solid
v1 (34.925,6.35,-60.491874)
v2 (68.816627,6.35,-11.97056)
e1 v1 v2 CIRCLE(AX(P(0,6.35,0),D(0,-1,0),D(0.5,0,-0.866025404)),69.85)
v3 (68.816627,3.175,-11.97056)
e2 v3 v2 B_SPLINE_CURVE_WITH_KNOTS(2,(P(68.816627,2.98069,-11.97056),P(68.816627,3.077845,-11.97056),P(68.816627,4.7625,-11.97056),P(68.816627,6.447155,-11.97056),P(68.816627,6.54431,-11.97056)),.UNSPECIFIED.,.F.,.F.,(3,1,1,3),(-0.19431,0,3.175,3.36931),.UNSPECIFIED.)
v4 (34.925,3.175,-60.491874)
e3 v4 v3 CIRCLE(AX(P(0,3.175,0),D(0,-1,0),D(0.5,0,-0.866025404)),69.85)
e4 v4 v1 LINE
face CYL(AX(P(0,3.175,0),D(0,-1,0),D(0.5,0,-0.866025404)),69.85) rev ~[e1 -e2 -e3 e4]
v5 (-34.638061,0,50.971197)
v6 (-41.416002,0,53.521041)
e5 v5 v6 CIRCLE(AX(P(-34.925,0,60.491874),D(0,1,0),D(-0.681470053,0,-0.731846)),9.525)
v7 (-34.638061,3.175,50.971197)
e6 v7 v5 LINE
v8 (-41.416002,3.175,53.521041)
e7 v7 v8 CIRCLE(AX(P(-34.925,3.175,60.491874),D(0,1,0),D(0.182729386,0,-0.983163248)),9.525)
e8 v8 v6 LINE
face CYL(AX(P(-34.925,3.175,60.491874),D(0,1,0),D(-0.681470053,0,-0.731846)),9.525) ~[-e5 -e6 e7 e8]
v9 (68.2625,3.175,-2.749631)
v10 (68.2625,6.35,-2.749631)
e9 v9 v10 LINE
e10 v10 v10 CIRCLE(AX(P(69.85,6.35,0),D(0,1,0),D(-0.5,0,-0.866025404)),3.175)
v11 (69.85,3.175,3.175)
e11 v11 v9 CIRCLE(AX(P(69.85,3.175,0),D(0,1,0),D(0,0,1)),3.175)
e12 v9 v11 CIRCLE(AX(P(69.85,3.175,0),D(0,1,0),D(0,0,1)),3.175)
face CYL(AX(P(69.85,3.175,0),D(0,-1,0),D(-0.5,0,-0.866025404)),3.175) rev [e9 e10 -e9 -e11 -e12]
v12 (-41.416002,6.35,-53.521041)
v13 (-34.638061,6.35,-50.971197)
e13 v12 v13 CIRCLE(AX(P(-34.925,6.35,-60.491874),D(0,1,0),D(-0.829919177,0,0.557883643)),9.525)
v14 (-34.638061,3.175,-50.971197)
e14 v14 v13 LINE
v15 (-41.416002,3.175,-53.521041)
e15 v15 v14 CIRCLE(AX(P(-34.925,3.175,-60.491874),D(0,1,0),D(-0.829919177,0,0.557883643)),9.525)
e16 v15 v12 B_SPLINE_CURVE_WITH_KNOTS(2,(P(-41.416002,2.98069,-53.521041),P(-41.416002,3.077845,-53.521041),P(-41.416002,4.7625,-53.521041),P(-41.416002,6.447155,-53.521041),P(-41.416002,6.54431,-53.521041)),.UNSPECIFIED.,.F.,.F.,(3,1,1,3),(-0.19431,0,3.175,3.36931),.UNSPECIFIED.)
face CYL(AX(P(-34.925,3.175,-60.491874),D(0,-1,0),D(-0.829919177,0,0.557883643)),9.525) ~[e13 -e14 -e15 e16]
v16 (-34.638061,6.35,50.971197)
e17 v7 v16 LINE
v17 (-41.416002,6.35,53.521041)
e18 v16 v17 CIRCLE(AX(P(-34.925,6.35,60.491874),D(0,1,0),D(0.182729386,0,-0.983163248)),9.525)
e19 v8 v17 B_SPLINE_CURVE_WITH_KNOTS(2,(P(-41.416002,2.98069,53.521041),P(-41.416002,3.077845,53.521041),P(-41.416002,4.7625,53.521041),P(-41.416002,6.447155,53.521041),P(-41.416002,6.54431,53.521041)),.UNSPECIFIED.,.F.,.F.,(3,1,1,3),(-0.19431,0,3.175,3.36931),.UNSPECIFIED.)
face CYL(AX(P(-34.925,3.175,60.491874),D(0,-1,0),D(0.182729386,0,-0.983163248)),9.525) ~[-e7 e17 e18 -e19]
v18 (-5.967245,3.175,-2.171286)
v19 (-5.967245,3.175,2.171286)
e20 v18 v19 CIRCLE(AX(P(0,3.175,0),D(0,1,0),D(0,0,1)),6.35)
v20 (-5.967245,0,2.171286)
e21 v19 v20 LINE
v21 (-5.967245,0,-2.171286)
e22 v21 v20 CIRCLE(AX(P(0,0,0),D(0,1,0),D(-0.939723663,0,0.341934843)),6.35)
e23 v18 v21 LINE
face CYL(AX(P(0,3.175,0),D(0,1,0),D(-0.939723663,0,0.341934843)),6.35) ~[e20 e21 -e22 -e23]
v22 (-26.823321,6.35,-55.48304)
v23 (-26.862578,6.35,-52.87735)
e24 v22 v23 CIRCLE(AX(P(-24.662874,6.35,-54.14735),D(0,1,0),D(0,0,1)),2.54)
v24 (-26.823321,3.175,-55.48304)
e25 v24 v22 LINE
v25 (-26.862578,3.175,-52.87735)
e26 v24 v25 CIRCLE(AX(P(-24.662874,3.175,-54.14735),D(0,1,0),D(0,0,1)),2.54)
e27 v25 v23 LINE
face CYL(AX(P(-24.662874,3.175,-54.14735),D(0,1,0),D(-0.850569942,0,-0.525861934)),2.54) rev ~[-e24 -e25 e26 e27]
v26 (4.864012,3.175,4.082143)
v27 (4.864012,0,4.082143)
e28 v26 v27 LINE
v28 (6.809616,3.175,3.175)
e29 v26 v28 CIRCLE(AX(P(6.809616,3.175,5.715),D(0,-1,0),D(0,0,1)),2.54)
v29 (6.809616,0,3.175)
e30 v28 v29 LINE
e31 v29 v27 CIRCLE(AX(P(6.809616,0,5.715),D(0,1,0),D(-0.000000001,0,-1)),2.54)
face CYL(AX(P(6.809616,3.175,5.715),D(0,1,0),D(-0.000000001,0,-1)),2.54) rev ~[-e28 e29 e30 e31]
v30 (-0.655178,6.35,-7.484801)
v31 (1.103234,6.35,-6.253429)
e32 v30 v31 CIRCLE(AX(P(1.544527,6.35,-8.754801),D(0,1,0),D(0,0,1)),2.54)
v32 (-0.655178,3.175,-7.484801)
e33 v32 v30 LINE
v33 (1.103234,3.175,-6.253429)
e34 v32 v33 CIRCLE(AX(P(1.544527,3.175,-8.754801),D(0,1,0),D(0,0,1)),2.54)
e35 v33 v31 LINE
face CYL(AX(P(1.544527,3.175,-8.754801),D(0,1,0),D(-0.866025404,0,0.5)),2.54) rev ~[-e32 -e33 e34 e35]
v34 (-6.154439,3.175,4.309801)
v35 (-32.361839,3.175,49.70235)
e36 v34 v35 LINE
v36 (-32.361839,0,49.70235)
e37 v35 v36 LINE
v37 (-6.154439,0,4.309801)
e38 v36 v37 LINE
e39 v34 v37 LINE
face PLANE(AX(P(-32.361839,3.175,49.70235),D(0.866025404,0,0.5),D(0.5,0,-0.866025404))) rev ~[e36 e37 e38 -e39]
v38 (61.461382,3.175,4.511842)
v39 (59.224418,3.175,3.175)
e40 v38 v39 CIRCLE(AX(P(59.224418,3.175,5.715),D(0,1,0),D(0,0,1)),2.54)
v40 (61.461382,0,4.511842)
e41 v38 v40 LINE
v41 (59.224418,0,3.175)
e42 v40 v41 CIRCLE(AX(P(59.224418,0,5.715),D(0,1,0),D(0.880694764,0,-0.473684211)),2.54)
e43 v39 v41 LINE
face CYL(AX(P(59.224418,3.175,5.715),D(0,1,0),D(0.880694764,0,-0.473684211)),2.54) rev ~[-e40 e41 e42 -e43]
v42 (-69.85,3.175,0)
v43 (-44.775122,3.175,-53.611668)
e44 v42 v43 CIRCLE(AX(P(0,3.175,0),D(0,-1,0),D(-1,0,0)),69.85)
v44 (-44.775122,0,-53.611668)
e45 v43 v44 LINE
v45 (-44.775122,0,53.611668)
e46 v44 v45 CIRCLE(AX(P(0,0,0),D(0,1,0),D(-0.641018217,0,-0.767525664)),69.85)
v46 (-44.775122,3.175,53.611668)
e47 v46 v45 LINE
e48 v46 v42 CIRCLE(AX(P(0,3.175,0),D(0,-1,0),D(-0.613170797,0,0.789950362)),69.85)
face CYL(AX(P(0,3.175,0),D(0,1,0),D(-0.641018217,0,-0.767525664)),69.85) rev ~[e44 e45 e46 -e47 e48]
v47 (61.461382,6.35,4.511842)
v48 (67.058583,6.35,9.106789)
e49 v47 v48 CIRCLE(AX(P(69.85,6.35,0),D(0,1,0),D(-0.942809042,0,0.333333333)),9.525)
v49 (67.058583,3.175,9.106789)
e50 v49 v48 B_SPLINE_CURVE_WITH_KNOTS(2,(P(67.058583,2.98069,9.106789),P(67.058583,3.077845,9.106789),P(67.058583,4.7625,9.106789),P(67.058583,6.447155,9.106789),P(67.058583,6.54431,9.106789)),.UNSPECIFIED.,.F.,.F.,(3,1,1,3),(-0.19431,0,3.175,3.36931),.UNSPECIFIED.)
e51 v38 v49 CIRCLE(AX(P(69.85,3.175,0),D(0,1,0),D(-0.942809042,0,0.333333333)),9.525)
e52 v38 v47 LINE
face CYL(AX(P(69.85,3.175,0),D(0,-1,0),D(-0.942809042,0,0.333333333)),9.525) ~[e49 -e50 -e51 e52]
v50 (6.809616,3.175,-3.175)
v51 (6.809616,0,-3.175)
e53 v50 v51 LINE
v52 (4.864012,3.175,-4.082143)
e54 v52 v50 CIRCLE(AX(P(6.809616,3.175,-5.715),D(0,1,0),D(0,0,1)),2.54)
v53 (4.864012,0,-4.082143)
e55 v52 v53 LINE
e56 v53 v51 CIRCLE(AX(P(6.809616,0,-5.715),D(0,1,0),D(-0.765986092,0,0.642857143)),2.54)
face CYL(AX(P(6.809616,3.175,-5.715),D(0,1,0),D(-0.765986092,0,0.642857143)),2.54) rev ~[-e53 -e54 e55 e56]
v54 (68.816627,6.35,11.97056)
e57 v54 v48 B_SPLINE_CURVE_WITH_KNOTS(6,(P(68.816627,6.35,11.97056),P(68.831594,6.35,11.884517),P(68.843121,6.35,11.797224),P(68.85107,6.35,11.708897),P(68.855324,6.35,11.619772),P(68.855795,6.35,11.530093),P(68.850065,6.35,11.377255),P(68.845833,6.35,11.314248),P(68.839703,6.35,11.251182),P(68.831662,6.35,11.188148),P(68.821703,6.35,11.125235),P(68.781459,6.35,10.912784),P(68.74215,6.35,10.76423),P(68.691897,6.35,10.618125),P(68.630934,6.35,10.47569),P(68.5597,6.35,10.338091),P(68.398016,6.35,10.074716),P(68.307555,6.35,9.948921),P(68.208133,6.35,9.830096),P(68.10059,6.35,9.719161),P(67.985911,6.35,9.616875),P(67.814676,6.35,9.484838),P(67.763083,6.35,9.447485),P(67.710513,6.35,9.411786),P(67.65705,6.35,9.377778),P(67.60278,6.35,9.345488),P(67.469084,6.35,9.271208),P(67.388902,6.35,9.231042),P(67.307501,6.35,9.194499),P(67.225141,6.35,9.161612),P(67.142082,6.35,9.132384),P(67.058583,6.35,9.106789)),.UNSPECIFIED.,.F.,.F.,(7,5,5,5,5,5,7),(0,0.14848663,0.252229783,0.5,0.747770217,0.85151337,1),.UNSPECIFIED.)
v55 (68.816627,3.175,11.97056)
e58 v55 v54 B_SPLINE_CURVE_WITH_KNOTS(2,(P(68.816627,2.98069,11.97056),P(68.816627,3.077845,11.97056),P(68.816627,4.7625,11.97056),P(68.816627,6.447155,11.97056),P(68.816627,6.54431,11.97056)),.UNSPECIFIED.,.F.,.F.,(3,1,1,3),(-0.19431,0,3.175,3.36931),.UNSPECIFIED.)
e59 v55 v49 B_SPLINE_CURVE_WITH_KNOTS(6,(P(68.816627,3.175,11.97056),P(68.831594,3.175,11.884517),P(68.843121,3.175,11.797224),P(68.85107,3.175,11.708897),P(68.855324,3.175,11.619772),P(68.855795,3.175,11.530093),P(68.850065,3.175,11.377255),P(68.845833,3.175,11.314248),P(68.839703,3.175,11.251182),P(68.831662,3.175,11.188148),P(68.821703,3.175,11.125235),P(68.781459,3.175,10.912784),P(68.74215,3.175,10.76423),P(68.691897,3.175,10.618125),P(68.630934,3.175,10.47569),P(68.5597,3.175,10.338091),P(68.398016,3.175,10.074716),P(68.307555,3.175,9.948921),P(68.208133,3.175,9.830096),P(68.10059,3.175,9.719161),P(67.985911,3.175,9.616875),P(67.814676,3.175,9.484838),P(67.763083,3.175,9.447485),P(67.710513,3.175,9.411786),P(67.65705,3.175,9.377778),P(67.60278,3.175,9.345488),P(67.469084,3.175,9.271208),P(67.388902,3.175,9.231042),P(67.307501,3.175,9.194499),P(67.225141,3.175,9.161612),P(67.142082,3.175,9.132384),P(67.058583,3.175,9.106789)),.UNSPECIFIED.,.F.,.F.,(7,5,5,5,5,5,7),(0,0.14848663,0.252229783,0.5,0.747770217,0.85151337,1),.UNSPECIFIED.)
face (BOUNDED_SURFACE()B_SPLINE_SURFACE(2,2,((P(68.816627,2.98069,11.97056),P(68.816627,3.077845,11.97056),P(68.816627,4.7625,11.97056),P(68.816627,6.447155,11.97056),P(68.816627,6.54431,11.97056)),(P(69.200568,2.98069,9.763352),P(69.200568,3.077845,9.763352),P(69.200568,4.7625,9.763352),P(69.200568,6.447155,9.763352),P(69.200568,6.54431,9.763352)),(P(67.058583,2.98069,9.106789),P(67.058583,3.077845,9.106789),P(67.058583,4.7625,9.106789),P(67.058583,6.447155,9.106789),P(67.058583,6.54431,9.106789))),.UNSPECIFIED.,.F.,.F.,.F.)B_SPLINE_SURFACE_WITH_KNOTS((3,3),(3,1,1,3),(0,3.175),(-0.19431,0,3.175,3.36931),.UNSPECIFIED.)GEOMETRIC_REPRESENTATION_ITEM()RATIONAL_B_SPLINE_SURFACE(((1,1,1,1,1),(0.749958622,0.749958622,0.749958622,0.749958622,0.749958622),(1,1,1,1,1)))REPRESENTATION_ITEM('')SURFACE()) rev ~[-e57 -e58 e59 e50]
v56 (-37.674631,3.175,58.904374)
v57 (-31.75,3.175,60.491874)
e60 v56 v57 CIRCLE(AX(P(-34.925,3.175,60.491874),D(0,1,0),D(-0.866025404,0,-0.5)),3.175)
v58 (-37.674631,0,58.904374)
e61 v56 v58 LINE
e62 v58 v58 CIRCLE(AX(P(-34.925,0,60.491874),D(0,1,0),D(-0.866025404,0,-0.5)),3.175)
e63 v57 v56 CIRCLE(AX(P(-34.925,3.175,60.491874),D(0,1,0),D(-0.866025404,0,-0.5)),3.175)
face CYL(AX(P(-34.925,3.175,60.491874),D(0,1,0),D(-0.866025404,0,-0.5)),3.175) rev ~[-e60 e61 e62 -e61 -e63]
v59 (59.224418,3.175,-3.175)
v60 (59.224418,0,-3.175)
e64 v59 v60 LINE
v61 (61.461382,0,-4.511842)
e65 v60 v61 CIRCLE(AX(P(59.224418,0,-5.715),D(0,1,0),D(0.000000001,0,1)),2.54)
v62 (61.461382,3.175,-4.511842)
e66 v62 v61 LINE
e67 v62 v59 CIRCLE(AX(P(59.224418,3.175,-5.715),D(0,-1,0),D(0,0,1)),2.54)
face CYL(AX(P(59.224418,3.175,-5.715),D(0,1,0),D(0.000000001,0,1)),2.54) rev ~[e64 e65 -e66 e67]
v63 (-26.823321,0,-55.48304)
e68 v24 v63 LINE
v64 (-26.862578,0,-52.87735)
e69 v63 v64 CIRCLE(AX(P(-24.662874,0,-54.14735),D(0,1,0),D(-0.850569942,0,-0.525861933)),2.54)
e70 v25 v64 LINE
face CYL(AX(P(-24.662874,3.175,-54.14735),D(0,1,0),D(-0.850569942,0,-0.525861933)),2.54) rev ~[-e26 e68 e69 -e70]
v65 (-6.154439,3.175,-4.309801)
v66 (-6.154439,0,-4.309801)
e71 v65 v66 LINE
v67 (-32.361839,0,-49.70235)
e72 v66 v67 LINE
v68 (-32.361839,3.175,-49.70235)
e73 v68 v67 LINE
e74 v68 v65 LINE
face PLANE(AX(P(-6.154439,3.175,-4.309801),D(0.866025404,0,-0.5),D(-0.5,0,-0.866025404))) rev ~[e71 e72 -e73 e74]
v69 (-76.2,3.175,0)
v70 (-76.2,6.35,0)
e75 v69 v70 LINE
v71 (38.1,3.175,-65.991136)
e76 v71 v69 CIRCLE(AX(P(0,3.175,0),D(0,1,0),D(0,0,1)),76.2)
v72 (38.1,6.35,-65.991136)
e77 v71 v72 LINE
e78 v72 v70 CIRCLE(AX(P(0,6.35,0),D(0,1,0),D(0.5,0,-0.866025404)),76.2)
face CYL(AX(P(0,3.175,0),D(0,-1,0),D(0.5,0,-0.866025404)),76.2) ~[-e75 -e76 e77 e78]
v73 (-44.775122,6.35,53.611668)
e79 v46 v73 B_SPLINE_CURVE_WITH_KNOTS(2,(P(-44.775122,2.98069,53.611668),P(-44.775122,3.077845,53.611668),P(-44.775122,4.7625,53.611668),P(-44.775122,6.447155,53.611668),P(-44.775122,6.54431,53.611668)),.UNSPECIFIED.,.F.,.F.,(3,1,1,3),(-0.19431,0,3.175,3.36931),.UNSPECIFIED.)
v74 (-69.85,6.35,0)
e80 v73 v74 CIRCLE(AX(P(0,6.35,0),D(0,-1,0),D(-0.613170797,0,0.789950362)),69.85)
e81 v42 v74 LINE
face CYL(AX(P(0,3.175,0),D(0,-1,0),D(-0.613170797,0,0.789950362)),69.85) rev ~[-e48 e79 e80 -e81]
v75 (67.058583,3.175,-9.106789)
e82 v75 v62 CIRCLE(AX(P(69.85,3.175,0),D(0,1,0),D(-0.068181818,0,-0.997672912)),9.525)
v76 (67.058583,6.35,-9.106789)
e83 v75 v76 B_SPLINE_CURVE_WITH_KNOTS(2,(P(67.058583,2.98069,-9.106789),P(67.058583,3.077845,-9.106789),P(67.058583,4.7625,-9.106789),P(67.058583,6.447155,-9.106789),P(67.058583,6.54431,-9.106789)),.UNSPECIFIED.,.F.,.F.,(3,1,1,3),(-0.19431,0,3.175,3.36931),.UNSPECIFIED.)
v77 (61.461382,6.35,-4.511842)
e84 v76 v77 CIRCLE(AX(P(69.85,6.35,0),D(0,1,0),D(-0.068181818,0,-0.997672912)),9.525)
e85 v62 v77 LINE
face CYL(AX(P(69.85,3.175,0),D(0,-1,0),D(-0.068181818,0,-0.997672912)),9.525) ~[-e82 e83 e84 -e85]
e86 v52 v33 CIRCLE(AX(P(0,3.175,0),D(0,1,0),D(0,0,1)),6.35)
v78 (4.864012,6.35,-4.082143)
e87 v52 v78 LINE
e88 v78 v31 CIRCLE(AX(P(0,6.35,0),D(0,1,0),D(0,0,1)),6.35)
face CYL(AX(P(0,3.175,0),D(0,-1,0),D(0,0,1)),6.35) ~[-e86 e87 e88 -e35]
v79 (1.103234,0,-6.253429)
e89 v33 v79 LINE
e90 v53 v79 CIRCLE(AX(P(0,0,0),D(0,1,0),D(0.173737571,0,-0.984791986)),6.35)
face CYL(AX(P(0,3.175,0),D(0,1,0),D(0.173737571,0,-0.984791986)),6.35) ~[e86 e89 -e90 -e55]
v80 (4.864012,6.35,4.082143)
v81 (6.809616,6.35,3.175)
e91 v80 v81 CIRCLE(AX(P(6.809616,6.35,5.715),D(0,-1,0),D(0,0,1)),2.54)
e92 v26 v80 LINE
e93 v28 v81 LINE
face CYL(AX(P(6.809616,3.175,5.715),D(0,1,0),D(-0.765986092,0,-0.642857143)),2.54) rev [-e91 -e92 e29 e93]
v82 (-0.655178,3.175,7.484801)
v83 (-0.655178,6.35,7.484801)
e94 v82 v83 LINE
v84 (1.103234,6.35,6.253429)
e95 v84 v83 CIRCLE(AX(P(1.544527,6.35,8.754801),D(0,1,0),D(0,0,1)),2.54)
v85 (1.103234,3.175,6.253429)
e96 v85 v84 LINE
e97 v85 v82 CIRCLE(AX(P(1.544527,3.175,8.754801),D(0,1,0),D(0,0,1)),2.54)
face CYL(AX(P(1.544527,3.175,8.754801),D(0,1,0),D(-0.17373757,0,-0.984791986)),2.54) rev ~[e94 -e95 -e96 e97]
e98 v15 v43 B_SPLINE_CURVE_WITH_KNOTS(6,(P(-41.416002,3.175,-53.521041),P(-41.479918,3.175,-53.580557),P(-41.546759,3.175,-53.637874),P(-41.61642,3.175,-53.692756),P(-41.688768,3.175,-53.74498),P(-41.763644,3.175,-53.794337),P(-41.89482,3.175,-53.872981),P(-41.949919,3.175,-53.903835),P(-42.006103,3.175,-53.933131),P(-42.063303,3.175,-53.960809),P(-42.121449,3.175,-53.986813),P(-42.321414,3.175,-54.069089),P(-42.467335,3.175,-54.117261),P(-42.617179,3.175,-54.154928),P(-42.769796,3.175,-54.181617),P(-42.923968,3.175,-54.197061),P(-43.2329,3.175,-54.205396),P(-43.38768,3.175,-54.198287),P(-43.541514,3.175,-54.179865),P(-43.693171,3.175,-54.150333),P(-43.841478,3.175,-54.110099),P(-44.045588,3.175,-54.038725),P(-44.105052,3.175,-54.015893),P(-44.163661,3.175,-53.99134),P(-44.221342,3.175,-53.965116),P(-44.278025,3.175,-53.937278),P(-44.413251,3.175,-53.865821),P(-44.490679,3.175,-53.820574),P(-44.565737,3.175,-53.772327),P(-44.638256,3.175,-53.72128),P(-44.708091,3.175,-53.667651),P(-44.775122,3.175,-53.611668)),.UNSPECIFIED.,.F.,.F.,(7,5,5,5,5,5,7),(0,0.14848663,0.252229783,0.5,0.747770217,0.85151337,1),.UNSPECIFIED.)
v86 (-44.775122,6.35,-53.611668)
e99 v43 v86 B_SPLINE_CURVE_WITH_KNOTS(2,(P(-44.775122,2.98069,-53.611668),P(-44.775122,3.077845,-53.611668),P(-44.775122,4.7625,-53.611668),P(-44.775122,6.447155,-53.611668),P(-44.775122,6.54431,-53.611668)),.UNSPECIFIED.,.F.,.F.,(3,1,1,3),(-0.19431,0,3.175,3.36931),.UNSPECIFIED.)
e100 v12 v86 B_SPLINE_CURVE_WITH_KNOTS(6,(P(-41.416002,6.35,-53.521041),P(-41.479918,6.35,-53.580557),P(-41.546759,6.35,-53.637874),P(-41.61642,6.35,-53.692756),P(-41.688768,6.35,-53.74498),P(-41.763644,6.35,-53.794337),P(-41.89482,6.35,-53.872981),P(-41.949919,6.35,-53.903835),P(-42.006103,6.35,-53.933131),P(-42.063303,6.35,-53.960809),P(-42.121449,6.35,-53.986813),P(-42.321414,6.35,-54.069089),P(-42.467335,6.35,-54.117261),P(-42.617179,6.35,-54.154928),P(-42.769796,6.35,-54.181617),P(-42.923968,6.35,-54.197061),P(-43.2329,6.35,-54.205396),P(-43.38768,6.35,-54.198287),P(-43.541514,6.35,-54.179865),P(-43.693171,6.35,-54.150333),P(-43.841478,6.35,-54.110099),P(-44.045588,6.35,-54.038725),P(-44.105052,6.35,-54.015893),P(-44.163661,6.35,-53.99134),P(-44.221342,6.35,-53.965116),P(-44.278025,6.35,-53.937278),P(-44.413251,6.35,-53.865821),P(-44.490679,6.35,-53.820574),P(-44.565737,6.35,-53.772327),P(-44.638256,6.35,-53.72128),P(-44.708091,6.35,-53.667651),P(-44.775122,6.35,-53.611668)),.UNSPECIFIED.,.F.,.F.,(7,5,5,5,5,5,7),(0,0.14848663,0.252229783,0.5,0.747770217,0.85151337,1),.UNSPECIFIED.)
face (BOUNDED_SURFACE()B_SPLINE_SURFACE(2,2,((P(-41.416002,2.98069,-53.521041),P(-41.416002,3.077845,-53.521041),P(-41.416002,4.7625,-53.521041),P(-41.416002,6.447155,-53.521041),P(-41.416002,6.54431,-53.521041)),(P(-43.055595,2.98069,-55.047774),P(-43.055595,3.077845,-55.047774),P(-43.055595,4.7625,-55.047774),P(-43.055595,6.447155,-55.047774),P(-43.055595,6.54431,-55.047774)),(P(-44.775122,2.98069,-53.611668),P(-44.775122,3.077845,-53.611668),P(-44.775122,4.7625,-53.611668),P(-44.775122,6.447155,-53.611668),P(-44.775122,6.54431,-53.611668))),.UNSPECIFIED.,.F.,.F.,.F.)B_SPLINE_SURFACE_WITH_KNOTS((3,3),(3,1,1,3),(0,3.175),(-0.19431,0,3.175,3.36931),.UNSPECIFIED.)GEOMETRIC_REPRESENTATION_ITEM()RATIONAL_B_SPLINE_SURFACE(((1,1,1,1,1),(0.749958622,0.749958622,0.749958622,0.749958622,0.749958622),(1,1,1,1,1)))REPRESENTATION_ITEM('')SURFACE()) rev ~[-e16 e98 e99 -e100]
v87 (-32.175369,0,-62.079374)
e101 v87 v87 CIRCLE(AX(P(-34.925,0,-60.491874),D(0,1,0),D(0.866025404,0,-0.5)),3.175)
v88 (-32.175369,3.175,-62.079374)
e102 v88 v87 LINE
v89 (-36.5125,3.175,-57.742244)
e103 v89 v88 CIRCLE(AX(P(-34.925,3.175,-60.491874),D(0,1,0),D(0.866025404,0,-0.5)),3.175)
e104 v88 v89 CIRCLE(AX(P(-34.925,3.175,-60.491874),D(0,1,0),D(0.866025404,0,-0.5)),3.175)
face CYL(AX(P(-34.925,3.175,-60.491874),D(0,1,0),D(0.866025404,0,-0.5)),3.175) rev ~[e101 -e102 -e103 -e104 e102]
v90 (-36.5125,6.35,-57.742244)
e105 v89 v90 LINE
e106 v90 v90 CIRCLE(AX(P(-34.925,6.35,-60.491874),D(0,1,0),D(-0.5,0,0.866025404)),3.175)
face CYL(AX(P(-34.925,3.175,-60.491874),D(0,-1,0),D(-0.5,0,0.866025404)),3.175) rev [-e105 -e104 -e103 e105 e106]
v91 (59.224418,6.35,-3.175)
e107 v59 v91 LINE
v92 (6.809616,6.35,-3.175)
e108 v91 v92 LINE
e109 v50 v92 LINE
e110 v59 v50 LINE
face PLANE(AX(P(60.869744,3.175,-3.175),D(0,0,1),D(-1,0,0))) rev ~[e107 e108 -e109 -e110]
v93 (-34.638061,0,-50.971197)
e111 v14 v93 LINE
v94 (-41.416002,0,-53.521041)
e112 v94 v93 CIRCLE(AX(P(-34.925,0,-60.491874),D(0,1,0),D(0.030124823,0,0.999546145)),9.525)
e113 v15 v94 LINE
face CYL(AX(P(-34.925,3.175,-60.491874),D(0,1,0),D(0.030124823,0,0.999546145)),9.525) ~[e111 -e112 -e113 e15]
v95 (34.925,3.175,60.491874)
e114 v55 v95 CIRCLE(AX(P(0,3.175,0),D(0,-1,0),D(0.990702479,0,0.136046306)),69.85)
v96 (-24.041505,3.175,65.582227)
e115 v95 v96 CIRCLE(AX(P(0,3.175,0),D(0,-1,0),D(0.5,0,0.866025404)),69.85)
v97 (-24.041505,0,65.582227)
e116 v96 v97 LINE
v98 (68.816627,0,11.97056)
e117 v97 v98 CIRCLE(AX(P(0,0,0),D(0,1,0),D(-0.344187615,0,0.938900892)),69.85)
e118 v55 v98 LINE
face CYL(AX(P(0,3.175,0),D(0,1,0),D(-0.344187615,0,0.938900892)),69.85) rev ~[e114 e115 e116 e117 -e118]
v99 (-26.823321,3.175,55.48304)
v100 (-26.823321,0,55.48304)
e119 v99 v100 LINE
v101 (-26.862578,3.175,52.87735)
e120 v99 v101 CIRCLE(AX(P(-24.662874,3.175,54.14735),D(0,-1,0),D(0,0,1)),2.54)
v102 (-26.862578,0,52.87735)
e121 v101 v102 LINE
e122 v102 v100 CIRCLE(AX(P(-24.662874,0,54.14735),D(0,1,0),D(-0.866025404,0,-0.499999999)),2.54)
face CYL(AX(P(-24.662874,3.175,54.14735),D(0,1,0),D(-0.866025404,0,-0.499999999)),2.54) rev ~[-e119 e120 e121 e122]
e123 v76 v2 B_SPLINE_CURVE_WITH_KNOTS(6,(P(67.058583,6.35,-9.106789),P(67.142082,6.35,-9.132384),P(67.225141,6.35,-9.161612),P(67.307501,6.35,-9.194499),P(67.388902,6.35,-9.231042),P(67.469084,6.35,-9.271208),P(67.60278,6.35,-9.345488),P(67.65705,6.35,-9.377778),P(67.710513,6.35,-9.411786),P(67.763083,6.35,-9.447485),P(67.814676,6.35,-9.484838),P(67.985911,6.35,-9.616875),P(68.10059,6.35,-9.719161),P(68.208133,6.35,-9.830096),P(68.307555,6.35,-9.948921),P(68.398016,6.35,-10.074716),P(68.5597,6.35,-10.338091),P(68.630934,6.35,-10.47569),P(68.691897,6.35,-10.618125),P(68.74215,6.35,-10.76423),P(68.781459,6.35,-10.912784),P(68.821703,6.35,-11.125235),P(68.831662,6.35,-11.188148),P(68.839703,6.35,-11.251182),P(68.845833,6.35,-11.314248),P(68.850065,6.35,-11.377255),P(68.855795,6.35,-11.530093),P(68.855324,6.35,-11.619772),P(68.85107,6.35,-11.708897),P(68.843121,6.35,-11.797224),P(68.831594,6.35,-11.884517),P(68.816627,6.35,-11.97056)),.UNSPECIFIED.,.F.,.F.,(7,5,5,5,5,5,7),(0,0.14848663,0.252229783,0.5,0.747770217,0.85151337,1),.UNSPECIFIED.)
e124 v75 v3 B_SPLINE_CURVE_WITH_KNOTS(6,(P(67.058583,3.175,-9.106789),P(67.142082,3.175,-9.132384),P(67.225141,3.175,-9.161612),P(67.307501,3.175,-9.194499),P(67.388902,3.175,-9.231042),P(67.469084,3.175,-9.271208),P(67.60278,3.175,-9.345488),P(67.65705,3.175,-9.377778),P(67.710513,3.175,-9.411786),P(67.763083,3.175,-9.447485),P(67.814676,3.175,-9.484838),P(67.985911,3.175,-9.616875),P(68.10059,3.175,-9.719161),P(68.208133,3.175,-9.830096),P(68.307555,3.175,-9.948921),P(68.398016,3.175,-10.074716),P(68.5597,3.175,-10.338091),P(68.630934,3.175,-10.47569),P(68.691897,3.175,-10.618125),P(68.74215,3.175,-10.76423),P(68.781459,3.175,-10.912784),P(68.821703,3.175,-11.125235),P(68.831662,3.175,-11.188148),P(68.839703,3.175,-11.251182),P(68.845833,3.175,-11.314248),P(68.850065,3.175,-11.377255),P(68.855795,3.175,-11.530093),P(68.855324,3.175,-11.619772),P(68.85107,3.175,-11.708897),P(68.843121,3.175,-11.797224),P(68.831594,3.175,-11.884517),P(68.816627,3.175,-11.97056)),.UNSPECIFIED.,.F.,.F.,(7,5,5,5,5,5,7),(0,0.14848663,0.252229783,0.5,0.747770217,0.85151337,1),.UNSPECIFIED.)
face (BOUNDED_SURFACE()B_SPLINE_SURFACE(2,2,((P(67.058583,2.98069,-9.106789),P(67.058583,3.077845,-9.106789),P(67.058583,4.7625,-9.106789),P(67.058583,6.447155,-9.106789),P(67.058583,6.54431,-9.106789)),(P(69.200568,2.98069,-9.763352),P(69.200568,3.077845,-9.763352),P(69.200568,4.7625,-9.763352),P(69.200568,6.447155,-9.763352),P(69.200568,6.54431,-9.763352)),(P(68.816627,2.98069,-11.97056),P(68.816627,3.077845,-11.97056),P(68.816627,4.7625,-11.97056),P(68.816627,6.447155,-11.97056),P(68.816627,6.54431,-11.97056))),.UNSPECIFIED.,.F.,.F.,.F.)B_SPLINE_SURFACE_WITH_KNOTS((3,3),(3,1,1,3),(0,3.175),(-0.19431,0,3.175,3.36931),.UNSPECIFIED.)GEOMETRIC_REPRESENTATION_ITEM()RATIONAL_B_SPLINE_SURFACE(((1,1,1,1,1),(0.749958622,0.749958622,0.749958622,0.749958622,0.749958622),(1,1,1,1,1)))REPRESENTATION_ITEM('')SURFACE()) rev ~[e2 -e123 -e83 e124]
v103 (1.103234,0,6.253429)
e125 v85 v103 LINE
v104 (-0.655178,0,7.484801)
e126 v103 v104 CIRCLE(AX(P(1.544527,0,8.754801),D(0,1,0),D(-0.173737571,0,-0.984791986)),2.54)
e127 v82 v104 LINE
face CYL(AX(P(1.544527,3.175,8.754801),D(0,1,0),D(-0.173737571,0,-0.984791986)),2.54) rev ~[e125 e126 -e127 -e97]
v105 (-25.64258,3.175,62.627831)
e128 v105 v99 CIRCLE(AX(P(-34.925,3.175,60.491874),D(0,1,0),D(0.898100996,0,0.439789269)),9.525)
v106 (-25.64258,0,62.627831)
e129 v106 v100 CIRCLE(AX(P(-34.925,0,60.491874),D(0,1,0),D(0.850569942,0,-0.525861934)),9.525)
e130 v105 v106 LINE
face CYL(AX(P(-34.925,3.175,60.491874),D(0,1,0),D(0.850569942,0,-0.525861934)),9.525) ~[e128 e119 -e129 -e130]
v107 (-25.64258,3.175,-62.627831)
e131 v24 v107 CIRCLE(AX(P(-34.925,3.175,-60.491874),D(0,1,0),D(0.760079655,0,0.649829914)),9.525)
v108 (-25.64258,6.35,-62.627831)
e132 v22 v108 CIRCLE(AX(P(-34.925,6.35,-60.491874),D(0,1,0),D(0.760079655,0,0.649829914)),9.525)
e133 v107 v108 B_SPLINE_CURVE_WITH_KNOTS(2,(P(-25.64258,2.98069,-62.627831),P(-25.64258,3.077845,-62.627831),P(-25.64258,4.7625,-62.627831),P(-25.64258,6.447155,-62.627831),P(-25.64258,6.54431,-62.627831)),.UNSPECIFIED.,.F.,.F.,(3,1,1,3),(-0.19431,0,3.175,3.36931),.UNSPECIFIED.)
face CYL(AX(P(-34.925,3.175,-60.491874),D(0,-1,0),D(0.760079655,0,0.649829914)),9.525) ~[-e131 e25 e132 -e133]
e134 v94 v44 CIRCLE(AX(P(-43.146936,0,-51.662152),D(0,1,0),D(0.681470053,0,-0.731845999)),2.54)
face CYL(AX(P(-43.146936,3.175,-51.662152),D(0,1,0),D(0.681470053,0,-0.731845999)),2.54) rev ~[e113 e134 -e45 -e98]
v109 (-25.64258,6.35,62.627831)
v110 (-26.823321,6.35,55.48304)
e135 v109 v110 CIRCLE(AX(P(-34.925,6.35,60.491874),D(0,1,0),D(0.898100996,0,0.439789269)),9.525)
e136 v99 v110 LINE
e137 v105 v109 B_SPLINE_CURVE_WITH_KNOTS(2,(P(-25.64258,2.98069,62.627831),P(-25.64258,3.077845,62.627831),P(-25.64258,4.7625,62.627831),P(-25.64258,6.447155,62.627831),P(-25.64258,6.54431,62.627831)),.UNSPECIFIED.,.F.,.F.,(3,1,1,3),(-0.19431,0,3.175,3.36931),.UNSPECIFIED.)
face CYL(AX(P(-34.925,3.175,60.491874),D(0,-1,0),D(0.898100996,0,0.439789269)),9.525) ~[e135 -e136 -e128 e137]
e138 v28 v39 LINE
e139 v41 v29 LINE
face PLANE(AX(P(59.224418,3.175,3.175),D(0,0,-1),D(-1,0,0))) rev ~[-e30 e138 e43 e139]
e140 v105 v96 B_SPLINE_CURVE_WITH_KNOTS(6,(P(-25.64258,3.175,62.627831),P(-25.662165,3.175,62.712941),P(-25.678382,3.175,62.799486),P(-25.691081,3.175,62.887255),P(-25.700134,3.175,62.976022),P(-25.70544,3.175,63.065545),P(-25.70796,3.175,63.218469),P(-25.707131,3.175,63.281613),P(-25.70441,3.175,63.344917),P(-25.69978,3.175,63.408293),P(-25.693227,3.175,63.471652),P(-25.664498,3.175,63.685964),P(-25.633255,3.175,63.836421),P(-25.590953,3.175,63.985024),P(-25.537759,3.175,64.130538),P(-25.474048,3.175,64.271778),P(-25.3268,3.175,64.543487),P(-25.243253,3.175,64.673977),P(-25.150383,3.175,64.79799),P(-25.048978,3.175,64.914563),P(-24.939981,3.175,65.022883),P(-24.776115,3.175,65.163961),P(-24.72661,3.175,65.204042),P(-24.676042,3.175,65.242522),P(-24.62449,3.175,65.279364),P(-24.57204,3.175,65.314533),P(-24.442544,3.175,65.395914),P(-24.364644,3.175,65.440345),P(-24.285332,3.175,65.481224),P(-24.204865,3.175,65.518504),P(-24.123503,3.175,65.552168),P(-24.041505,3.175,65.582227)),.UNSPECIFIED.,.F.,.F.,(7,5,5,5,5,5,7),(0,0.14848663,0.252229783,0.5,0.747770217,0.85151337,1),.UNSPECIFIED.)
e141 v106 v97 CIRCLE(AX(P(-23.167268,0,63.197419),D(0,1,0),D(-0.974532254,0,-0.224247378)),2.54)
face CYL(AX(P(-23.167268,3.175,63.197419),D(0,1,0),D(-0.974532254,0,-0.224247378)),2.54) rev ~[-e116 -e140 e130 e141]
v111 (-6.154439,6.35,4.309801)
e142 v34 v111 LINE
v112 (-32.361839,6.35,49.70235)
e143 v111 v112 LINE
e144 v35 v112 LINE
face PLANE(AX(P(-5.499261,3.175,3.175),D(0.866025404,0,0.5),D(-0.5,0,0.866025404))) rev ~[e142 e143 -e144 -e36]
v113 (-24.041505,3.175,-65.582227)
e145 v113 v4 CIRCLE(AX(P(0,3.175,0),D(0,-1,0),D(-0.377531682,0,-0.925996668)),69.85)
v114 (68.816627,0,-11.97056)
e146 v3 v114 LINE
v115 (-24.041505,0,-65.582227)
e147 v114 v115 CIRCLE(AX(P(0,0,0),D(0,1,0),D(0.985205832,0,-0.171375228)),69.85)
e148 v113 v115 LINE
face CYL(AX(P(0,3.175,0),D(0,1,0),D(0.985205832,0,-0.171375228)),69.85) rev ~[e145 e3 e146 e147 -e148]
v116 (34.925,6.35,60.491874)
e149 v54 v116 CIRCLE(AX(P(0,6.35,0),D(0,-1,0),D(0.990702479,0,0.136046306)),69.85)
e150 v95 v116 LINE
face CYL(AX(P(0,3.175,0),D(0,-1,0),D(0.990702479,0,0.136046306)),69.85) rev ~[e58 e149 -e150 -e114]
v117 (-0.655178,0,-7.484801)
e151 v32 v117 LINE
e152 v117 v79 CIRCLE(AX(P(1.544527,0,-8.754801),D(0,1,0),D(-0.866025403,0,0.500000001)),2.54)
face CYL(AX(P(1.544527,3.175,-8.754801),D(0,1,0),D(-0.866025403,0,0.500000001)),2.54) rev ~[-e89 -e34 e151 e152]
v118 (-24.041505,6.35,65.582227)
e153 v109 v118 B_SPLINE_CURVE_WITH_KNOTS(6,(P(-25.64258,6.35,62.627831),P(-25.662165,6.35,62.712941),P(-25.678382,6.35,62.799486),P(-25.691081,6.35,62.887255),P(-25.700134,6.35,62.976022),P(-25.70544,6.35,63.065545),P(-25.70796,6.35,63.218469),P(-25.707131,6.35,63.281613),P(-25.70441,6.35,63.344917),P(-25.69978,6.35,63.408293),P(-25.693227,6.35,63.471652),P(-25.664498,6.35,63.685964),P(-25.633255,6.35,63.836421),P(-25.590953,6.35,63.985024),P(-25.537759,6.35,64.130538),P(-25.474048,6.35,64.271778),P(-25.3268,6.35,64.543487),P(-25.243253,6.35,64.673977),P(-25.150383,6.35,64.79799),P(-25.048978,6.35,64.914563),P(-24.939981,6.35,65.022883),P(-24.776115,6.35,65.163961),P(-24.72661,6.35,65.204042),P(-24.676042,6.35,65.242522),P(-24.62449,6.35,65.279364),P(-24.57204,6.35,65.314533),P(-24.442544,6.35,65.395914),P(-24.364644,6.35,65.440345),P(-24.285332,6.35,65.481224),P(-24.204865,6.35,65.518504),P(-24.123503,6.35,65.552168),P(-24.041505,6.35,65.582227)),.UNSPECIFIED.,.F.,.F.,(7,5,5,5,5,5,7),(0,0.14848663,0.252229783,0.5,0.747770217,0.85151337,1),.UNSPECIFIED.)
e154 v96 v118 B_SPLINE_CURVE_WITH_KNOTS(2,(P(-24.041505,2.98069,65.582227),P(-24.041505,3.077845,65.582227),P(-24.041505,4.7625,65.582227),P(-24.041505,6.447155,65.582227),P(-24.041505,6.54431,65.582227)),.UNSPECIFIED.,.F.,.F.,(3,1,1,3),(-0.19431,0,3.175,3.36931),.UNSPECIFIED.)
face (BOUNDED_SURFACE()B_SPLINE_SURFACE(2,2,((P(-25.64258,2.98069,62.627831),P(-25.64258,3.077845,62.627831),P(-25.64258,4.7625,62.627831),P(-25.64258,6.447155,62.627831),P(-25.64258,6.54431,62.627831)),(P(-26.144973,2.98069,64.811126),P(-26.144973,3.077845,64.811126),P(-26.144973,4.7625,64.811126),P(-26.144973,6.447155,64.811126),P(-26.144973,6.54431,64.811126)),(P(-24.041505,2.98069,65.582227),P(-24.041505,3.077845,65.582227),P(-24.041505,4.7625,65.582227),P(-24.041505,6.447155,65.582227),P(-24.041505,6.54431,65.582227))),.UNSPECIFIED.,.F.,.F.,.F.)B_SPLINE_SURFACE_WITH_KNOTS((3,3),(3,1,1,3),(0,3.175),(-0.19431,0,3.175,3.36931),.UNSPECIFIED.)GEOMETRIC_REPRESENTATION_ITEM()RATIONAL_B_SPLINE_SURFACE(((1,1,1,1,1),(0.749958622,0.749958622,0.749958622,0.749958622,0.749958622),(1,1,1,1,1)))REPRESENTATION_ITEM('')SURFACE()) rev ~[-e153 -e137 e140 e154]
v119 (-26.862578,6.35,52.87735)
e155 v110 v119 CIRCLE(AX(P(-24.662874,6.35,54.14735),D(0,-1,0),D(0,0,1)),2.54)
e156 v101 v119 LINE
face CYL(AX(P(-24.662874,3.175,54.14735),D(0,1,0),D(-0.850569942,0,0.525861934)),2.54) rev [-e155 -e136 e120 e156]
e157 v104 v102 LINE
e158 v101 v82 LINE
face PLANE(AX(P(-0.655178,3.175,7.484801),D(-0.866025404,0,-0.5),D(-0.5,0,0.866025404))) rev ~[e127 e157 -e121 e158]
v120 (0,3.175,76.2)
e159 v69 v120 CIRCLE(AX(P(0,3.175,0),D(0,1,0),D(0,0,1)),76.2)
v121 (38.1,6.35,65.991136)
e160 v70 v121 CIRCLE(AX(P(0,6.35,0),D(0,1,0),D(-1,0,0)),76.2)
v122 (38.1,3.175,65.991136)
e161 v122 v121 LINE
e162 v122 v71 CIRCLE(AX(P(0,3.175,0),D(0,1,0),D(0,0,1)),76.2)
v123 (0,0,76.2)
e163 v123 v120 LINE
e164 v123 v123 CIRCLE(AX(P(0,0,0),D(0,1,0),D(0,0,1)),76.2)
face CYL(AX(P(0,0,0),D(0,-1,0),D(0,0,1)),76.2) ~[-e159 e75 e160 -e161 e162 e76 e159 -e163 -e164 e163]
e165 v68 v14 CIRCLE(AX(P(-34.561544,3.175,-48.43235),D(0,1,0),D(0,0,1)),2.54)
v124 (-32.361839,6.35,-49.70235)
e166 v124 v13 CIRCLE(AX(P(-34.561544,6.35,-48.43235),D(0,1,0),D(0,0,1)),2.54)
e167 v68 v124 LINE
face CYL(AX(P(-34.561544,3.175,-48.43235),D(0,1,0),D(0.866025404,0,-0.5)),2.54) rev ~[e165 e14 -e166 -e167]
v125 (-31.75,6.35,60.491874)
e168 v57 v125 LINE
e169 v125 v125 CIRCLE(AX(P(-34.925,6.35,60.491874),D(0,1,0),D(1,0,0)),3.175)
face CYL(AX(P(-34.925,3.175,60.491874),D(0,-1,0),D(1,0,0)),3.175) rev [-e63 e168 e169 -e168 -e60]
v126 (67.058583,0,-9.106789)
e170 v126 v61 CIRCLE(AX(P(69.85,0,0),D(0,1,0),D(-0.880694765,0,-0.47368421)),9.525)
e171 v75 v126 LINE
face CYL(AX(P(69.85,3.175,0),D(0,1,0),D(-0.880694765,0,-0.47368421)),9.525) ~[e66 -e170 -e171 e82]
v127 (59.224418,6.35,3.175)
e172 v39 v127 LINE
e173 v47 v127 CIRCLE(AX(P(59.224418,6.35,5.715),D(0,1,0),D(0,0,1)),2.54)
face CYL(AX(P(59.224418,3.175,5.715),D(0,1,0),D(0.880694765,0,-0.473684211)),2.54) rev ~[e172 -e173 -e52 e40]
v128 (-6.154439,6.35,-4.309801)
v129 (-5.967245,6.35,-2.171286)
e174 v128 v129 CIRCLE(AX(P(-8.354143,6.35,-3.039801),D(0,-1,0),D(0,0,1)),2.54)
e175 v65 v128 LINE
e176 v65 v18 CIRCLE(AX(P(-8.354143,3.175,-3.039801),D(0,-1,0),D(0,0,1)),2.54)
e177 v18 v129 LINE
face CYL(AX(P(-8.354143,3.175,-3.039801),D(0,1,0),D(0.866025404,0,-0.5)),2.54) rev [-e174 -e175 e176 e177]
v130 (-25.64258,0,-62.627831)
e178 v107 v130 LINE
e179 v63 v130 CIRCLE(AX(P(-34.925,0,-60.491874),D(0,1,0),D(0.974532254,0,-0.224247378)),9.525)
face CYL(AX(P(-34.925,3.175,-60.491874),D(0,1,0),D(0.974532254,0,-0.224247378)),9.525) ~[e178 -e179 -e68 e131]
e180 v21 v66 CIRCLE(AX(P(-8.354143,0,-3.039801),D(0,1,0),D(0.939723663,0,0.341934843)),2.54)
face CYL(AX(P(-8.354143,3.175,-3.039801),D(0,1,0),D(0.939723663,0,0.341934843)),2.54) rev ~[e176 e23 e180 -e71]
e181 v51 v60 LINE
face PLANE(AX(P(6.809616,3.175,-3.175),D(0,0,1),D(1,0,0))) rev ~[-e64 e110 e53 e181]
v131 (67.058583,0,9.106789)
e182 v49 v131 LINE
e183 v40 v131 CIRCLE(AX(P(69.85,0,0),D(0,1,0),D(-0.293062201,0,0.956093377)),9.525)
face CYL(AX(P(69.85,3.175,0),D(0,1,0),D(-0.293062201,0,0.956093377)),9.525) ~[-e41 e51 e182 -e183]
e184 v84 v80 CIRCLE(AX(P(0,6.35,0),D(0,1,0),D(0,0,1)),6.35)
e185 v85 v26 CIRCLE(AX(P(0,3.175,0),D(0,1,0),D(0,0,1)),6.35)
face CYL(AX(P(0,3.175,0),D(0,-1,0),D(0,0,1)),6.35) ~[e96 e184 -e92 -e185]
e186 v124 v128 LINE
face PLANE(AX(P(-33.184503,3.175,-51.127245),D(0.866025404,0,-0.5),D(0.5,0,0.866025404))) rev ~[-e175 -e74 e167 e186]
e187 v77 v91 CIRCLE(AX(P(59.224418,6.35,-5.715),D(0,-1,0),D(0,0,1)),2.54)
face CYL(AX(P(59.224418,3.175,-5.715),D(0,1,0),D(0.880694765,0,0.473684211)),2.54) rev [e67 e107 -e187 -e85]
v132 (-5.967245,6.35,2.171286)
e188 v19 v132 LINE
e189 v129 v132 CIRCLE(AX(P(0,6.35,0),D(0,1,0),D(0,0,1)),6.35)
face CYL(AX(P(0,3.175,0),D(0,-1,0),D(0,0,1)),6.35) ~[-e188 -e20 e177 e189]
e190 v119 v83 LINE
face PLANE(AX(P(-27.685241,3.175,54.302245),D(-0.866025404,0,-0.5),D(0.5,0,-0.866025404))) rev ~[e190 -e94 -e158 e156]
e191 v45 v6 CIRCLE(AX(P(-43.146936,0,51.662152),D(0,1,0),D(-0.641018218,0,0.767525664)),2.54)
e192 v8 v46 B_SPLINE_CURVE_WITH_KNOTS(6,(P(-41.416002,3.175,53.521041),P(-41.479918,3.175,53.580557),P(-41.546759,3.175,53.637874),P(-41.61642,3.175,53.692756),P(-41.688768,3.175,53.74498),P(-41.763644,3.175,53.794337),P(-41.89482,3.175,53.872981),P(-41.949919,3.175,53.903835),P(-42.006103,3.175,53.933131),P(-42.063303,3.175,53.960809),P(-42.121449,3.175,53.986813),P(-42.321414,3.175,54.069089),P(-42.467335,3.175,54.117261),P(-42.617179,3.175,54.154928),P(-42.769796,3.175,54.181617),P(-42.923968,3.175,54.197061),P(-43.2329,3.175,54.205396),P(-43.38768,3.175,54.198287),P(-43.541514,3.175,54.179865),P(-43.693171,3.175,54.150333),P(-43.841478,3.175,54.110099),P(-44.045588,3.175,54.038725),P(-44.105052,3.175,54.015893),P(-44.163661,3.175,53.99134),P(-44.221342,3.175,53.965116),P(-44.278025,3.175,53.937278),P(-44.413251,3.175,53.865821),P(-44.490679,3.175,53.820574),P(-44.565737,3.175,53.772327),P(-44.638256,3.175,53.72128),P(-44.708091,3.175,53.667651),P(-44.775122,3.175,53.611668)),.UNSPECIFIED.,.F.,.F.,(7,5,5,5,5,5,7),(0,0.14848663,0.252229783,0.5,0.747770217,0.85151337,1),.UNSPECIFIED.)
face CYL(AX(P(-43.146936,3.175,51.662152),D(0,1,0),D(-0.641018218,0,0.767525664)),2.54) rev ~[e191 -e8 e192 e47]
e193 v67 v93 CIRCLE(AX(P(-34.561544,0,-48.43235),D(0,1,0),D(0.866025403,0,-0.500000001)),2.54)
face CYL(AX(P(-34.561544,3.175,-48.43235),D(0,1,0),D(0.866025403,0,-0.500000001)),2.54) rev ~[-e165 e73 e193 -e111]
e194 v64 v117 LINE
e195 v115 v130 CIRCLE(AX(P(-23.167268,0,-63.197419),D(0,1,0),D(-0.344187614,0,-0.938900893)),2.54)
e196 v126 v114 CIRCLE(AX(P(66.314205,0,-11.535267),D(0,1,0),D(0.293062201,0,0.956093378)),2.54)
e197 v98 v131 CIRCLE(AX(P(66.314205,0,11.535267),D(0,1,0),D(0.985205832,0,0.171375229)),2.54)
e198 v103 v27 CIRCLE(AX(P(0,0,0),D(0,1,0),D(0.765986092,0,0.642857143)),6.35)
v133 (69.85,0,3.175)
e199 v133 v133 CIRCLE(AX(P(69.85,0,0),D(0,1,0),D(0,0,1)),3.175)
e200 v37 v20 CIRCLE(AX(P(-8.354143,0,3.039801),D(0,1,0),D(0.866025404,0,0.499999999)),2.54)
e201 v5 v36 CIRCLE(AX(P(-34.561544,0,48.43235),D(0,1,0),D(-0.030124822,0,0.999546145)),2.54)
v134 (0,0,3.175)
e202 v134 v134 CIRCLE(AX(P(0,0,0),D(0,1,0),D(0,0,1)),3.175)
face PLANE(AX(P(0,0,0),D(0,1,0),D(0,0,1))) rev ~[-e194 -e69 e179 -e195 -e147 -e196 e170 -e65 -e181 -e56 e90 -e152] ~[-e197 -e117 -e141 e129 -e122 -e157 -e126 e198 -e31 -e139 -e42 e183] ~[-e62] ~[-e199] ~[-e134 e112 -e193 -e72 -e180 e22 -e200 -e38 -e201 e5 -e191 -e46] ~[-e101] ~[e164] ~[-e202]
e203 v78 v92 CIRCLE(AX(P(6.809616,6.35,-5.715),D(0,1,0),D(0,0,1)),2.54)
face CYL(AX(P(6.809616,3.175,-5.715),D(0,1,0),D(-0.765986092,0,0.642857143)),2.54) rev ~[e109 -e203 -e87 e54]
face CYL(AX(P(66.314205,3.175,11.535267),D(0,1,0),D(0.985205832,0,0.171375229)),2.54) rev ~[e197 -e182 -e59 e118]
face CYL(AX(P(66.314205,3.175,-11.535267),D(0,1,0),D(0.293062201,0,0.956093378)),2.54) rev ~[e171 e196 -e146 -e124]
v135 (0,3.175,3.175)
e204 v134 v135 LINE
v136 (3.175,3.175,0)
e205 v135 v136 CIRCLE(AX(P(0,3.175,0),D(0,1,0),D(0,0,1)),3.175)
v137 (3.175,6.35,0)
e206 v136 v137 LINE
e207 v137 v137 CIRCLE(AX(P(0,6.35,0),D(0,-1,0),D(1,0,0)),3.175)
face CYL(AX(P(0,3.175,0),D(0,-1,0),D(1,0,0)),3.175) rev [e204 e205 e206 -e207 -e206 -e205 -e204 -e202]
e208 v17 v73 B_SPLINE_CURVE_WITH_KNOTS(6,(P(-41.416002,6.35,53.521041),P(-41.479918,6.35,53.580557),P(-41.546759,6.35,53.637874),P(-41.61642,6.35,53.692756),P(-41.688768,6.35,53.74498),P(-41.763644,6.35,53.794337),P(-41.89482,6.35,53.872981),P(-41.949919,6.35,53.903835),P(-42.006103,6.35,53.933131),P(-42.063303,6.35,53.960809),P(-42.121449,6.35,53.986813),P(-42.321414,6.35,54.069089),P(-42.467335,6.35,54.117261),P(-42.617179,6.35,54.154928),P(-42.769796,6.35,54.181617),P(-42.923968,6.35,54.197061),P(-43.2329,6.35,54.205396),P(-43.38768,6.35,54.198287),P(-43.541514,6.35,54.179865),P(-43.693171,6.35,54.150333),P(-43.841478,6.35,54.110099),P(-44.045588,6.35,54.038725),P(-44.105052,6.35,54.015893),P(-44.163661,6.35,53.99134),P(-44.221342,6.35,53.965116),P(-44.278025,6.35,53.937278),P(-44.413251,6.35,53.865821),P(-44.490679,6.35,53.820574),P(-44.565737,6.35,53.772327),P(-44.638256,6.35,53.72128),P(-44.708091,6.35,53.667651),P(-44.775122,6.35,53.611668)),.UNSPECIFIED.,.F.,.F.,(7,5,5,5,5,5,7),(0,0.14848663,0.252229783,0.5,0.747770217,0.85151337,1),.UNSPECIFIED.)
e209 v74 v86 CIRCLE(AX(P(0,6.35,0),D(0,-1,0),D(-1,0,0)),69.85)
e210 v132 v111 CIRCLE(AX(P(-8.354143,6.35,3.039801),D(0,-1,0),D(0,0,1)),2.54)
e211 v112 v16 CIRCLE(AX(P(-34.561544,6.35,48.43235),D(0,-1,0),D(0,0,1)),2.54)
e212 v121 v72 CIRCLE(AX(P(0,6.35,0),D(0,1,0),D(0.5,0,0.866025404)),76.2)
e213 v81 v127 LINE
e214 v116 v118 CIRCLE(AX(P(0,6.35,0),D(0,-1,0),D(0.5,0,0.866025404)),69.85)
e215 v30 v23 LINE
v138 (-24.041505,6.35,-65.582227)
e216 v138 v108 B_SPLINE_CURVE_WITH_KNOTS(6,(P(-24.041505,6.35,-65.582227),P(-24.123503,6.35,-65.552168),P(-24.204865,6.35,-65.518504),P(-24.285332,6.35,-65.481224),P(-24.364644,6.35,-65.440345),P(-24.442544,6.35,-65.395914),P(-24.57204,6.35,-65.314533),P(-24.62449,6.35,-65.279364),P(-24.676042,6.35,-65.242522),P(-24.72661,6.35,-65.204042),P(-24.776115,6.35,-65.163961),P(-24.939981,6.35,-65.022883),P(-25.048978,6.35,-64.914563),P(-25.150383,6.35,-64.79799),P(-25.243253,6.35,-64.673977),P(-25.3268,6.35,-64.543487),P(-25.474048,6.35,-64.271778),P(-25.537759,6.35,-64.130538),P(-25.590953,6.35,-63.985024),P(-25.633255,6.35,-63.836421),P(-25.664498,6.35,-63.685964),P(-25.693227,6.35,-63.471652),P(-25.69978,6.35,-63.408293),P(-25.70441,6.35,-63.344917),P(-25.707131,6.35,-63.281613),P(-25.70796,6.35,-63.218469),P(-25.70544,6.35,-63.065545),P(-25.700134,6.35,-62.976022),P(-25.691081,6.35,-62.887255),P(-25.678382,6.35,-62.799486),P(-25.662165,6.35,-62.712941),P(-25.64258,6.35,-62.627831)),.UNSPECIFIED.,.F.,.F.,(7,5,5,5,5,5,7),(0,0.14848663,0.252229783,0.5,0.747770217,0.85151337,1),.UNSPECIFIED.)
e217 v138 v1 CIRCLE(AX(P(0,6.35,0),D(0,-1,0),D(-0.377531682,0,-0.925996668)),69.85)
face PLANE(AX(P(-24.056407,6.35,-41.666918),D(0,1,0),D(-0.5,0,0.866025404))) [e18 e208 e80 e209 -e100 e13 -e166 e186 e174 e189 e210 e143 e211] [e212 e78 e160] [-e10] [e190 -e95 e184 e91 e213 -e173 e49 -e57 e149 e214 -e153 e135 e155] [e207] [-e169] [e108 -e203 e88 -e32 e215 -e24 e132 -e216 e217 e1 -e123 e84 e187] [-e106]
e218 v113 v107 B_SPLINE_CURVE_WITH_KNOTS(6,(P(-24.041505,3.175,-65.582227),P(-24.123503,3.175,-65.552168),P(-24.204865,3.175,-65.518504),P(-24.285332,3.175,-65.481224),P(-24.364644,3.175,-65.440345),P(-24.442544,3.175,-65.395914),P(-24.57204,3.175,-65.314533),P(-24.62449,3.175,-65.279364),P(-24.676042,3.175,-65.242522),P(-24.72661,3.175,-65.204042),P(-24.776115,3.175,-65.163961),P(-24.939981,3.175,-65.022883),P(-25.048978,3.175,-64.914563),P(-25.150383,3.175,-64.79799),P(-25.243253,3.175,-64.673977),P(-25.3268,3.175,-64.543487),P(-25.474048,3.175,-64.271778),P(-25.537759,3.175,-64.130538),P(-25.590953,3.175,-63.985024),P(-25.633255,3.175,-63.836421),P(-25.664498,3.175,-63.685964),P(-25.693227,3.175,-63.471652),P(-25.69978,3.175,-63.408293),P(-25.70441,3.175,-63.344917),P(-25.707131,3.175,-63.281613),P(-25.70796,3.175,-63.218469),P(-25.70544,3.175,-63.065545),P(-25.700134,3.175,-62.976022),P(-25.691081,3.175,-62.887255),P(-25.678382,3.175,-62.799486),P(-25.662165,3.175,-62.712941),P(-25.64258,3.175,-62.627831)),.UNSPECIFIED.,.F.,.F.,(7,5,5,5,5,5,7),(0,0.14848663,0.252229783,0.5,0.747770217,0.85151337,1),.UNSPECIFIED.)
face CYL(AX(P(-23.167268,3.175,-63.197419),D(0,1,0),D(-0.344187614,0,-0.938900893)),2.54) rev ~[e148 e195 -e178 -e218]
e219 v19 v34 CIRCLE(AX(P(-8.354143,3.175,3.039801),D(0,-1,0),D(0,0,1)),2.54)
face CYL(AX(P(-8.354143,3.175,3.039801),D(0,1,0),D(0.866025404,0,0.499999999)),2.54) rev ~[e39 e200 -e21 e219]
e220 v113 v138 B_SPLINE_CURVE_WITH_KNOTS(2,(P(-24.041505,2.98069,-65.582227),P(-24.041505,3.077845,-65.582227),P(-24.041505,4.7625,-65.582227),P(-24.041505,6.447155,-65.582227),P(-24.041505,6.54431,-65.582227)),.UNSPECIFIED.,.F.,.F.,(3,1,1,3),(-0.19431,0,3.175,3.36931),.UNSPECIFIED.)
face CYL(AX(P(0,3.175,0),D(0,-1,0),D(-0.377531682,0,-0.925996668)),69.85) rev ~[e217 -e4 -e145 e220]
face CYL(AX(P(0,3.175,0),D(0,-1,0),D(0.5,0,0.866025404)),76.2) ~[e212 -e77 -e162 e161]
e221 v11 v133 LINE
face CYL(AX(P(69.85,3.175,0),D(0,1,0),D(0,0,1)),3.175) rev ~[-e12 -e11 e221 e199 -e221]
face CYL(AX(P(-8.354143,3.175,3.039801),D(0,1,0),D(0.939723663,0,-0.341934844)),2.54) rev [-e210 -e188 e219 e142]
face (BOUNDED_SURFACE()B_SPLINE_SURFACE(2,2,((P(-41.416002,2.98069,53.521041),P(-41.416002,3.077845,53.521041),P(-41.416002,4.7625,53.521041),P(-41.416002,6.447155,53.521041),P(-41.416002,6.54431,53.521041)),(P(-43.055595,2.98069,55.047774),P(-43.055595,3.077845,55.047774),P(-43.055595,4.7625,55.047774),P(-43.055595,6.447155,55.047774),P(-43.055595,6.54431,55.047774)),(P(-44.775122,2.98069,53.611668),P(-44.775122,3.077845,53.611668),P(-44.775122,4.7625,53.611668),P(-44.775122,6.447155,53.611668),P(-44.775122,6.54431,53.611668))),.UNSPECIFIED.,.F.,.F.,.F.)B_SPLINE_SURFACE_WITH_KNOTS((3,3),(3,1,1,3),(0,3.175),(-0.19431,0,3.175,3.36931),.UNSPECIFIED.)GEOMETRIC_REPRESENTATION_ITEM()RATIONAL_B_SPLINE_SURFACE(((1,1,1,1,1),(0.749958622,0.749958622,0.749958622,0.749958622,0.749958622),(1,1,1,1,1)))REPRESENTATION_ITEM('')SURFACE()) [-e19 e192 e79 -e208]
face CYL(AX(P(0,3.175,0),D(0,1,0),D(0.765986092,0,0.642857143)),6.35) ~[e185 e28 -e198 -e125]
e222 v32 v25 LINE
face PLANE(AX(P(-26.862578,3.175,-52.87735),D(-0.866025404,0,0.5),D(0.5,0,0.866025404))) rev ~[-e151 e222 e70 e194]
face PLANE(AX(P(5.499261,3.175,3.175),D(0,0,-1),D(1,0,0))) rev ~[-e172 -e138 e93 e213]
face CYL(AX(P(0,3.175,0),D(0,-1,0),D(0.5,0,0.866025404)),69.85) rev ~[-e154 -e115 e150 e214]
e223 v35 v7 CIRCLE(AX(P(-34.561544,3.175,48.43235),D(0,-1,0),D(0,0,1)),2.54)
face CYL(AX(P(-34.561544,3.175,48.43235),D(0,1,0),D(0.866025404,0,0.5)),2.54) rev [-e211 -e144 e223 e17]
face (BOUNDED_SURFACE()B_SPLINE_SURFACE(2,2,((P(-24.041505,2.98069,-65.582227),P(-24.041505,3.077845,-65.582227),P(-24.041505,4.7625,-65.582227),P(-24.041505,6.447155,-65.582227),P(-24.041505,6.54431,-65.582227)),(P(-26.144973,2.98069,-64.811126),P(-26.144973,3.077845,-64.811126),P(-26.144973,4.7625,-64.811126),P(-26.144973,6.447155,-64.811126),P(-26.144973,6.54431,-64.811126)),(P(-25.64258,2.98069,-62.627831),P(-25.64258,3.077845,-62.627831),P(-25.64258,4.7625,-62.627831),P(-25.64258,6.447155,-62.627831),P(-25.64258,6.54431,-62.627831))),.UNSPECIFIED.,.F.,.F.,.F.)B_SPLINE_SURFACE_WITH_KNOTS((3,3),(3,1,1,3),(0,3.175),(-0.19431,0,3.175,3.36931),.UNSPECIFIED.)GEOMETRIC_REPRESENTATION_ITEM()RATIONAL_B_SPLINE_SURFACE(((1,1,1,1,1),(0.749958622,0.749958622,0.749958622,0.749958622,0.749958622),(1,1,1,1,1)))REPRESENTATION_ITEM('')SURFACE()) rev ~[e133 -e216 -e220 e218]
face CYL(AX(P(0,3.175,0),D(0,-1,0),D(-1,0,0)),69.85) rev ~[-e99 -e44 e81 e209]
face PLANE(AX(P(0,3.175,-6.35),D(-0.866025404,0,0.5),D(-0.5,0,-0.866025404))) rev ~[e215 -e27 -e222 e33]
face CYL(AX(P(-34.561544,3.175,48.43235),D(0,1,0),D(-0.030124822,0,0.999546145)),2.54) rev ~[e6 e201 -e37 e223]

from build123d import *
from build123d.topology import SkipClean

# Parameters (mm, degrees)
SKETCH1_R           = 76.2
SKETCH1_R_2         = 3.175
BOSS_EXTRUDE1_DEPTH = 3.175
SKETCH2_R           = 3.175
CUT_EXTRUDE1_DEPTH  = 108.809835474
CIRPATTERN1_COUNT   = 3
SKETCH3_R           = 3.175
BOSS_EXTRUDE2_DEPTH = 3.175
CIRPATTERN2_COUNT   = 3
FILLET1_R           = 2.54
CUT_EXTRUDE2_DEPTH  = 108.809835619
CIRPATTERN3_COUNT   = 3


with BuildPart() as part:
    # Sketch1 → Boss-Extrude1 (new body)
    with BuildSketch(Plane(origin=(0, 0, 0), x_dir=(1, 0, 0), z_dir=(0, 1, 0))):
        with Locations(Location((0, 0, 0), (0, 0, 270))):
            Circle(SKETCH1_R)
        with Locations(Location((0, 0, 0), (0, 0, 270))):
            Circle(SKETCH1_R_2, mode=Mode.SUBTRACT)
    extrude(amount=BOSS_EXTRUDE1_DEPTH)

    # Sketch2 → Cut-Extrude1 (cut, through all)
    with BuildSketch(Plane(origin=(0, 3.175, 0), x_dir=(1, 0, 0), z_dir=(0, 1, 0))):
        with Locations(Location((69.85, 0, 0), (0, 0, 270))):
            Circle(SKETCH2_R)
    cut_extrude1 = extrude(amount=-CUT_EXTRUDE1_DEPTH, mode=Mode.SUBTRACT)

    # CirPattern1: Cut-Extrude1 ×3 about axis
    cirpattern1_axis = Axis((0, 0, 0), (0, 1, 0))
    for i in range(1, CIRPATTERN1_COUNT):
        add(cut_extrude1.rotate(cirpattern1_axis, i * 360 / CIRPATTERN1_COUNT), mode=Mode.SUBTRACT)

    # Sketch3 → Boss-Extrude2 (add)
    with BuildSketch(Plane(origin=(0, 3.175, 0), x_dir=(1, 0, 0), z_dir=(0, 1, 0))):
        with BuildLine():
            Line((-27.685241282, -54.302244521), (0, -6.35))
            ThreePointArc((0, -6.35), (3.175, 5.499261314), (-5.499261314, -3.175))
            Line((-5.499261314, -3.175), (-33.184502596, -51.127244521))
            ThreePointArc((-33.184502596, -51.127244521), (-38.613147674, -51.709893372), (-42.829980166, -55.178032758))
            ThreePointArc((-42.829980166, -55.178032758), (-62.732354549, -30.719280472), (-69.85, 0))
            Line((-69.85, 0), (-76.2, 0))
            ThreePointArc((-76.2, 0), (-38.1, -65.991135768), (38.1, -65.991135768))
            Line((38.1, -65.991135768), (34.925, -60.491874454))
            ThreePointArc((34.925, -60.491874454), (4.7625, -69.687452915), (-26.370588016, -64.680867246))
            ThreePointArc((-26.370588016, -64.680867246), (-25.47550745, -59.294913492), (-27.685241282, -54.302244521))
        make_face()
        with Locations((-34.925, -60.491874454)):
            Circle(SKETCH3_R, mode=Mode.SUBTRACT)
        Circle(SKETCH3_R, mode=Mode.SUBTRACT)
    boss_extrude2 = extrude(amount=BOSS_EXTRUDE2_DEPTH)

    # CirPattern2: Boss-Extrude2 ×3 about axis
    with SkipClean():  # the faces are left unmerged after this step: merging them gives an invalid solid
        cirpattern2_axis = Axis((0, 0, 0), (0, 1, 0))
        for i in range(1, CIRPATTERN2_COUNT):
            add(boss_extrude2.rotate(cirpattern2_axis, i * 360 / CIRPATTERN2_COUNT))

    # Fillet1
    fillet1_edges = [part.edges().sort_by_distance(p)[0] for p in [
        (0, 4.7625, 6.35),
        (-5.499261314, 4.7625, 3.175),
        (-33.184502596, 4.7625, 51.127244521),
        (-42.829980166, 4.7625, 55.178032758),
        (-26.370588016, 4.7625, 64.680867246),
        (-27.685241282, 4.7625, 54.302244521),
        (-5.499261314, 4.7625, -3.175),
        (5.499261314, 4.7625, -3.175),
        (5.499261314, 4.7625, 3.175),
        (60.869743879, 4.7625, 3.175),
        (69.200568182, 4.7625, 9.502834488),
        (-26.370588016, 4.7625, -64.680867246),
        (69.200568182, 4.7625, -9.502834488),
        (60.869743879, 4.7625, -3.175),
        (0, 4.7625, -6.35),
        (-27.685241282, 4.7625, -54.302244521),
        (-42.829980166, 4.7625, -55.178032758),
        (-33.184502596, 4.7625, -51.127244521),
    ]]
    fillet(fillet1_edges, radius=FILLET1_R)

    # Sketch4 → Cut-Extrude2 (cut, through all)
    with SkipClean():  # the faces are left unmerged after this step: merging them gives an invalid solid
        with BuildSketch(Plane(origin=(0, 3.175, 0), x_dir=(1, 0, 0), z_dir=(0, 1, 0))):
            with BuildLine():
                Line((-6.154438838, 4.30980076), (-32.361839489, 49.702350221))
                ThreePointArc((-32.361839489, 49.702350221), (-33.324824736, 50.650936578), (-34.638061064, 50.971197428))
                ThreePointArc((-34.638061064, 50.971197428), (-38.278807741, 51.576853499), (-41.416002253, 53.521041308))
                ThreePointArc((-41.416002253, 53.521041308), (-43.078433965, 54.20122857), (-44.775122458, 53.611667656))
                ThreePointArc((-44.775122458, 53.611667656), (-69.85, 0), (-44.775122458, -53.611667656))
                ThreePointArc((-44.775122458, -53.611667656), (-43.078433965, -54.20122857), (-41.416002253, -53.521041308))
                ThreePointArc((-41.416002253, -53.521041308), (-38.278807741, -51.576853499), (-34.638061064, -50.971197428))
                ThreePointArc((-34.638061064, -50.971197428), (-33.324824736, -50.650936578), (-32.361839489, -49.702350221))
                Line((-32.361839489, -49.702350221), (-6.154438838, -4.30980076))
                ThreePointArc((-6.154438838, -4.30980076), (-5.823818881, -3.261291188), (-5.96724526, -2.171286257))
                ThreePointArc((-5.96724526, -2.171286257), (-6.35, 0), (-5.96724526, 2.171286257))
                ThreePointArc((-5.96724526, 2.171286257), (-5.823818881, 3.261291188), (-6.154438838, 4.30980076))
            make_face()
        cut_extrude2 = extrude(amount=-CUT_EXTRUDE2_DEPTH, mode=Mode.SUBTRACT)

    # CirPattern3: Cut-Extrude2 ×3 about axis
    with SkipClean():  # the faces are left unmerged after this step: merging them gives an invalid solid
        cirpattern3_axis = Axis((0, 3.175, 0), (0, -1, 0))
        for i in range(1, CIRPATTERN3_COUNT):
            add(cut_extrude2.rotate(cirpattern3_axis, i * 360 / CIRPATTERN3_COUNT), mode=Mode.SUBTRACT)


solid = part.part
